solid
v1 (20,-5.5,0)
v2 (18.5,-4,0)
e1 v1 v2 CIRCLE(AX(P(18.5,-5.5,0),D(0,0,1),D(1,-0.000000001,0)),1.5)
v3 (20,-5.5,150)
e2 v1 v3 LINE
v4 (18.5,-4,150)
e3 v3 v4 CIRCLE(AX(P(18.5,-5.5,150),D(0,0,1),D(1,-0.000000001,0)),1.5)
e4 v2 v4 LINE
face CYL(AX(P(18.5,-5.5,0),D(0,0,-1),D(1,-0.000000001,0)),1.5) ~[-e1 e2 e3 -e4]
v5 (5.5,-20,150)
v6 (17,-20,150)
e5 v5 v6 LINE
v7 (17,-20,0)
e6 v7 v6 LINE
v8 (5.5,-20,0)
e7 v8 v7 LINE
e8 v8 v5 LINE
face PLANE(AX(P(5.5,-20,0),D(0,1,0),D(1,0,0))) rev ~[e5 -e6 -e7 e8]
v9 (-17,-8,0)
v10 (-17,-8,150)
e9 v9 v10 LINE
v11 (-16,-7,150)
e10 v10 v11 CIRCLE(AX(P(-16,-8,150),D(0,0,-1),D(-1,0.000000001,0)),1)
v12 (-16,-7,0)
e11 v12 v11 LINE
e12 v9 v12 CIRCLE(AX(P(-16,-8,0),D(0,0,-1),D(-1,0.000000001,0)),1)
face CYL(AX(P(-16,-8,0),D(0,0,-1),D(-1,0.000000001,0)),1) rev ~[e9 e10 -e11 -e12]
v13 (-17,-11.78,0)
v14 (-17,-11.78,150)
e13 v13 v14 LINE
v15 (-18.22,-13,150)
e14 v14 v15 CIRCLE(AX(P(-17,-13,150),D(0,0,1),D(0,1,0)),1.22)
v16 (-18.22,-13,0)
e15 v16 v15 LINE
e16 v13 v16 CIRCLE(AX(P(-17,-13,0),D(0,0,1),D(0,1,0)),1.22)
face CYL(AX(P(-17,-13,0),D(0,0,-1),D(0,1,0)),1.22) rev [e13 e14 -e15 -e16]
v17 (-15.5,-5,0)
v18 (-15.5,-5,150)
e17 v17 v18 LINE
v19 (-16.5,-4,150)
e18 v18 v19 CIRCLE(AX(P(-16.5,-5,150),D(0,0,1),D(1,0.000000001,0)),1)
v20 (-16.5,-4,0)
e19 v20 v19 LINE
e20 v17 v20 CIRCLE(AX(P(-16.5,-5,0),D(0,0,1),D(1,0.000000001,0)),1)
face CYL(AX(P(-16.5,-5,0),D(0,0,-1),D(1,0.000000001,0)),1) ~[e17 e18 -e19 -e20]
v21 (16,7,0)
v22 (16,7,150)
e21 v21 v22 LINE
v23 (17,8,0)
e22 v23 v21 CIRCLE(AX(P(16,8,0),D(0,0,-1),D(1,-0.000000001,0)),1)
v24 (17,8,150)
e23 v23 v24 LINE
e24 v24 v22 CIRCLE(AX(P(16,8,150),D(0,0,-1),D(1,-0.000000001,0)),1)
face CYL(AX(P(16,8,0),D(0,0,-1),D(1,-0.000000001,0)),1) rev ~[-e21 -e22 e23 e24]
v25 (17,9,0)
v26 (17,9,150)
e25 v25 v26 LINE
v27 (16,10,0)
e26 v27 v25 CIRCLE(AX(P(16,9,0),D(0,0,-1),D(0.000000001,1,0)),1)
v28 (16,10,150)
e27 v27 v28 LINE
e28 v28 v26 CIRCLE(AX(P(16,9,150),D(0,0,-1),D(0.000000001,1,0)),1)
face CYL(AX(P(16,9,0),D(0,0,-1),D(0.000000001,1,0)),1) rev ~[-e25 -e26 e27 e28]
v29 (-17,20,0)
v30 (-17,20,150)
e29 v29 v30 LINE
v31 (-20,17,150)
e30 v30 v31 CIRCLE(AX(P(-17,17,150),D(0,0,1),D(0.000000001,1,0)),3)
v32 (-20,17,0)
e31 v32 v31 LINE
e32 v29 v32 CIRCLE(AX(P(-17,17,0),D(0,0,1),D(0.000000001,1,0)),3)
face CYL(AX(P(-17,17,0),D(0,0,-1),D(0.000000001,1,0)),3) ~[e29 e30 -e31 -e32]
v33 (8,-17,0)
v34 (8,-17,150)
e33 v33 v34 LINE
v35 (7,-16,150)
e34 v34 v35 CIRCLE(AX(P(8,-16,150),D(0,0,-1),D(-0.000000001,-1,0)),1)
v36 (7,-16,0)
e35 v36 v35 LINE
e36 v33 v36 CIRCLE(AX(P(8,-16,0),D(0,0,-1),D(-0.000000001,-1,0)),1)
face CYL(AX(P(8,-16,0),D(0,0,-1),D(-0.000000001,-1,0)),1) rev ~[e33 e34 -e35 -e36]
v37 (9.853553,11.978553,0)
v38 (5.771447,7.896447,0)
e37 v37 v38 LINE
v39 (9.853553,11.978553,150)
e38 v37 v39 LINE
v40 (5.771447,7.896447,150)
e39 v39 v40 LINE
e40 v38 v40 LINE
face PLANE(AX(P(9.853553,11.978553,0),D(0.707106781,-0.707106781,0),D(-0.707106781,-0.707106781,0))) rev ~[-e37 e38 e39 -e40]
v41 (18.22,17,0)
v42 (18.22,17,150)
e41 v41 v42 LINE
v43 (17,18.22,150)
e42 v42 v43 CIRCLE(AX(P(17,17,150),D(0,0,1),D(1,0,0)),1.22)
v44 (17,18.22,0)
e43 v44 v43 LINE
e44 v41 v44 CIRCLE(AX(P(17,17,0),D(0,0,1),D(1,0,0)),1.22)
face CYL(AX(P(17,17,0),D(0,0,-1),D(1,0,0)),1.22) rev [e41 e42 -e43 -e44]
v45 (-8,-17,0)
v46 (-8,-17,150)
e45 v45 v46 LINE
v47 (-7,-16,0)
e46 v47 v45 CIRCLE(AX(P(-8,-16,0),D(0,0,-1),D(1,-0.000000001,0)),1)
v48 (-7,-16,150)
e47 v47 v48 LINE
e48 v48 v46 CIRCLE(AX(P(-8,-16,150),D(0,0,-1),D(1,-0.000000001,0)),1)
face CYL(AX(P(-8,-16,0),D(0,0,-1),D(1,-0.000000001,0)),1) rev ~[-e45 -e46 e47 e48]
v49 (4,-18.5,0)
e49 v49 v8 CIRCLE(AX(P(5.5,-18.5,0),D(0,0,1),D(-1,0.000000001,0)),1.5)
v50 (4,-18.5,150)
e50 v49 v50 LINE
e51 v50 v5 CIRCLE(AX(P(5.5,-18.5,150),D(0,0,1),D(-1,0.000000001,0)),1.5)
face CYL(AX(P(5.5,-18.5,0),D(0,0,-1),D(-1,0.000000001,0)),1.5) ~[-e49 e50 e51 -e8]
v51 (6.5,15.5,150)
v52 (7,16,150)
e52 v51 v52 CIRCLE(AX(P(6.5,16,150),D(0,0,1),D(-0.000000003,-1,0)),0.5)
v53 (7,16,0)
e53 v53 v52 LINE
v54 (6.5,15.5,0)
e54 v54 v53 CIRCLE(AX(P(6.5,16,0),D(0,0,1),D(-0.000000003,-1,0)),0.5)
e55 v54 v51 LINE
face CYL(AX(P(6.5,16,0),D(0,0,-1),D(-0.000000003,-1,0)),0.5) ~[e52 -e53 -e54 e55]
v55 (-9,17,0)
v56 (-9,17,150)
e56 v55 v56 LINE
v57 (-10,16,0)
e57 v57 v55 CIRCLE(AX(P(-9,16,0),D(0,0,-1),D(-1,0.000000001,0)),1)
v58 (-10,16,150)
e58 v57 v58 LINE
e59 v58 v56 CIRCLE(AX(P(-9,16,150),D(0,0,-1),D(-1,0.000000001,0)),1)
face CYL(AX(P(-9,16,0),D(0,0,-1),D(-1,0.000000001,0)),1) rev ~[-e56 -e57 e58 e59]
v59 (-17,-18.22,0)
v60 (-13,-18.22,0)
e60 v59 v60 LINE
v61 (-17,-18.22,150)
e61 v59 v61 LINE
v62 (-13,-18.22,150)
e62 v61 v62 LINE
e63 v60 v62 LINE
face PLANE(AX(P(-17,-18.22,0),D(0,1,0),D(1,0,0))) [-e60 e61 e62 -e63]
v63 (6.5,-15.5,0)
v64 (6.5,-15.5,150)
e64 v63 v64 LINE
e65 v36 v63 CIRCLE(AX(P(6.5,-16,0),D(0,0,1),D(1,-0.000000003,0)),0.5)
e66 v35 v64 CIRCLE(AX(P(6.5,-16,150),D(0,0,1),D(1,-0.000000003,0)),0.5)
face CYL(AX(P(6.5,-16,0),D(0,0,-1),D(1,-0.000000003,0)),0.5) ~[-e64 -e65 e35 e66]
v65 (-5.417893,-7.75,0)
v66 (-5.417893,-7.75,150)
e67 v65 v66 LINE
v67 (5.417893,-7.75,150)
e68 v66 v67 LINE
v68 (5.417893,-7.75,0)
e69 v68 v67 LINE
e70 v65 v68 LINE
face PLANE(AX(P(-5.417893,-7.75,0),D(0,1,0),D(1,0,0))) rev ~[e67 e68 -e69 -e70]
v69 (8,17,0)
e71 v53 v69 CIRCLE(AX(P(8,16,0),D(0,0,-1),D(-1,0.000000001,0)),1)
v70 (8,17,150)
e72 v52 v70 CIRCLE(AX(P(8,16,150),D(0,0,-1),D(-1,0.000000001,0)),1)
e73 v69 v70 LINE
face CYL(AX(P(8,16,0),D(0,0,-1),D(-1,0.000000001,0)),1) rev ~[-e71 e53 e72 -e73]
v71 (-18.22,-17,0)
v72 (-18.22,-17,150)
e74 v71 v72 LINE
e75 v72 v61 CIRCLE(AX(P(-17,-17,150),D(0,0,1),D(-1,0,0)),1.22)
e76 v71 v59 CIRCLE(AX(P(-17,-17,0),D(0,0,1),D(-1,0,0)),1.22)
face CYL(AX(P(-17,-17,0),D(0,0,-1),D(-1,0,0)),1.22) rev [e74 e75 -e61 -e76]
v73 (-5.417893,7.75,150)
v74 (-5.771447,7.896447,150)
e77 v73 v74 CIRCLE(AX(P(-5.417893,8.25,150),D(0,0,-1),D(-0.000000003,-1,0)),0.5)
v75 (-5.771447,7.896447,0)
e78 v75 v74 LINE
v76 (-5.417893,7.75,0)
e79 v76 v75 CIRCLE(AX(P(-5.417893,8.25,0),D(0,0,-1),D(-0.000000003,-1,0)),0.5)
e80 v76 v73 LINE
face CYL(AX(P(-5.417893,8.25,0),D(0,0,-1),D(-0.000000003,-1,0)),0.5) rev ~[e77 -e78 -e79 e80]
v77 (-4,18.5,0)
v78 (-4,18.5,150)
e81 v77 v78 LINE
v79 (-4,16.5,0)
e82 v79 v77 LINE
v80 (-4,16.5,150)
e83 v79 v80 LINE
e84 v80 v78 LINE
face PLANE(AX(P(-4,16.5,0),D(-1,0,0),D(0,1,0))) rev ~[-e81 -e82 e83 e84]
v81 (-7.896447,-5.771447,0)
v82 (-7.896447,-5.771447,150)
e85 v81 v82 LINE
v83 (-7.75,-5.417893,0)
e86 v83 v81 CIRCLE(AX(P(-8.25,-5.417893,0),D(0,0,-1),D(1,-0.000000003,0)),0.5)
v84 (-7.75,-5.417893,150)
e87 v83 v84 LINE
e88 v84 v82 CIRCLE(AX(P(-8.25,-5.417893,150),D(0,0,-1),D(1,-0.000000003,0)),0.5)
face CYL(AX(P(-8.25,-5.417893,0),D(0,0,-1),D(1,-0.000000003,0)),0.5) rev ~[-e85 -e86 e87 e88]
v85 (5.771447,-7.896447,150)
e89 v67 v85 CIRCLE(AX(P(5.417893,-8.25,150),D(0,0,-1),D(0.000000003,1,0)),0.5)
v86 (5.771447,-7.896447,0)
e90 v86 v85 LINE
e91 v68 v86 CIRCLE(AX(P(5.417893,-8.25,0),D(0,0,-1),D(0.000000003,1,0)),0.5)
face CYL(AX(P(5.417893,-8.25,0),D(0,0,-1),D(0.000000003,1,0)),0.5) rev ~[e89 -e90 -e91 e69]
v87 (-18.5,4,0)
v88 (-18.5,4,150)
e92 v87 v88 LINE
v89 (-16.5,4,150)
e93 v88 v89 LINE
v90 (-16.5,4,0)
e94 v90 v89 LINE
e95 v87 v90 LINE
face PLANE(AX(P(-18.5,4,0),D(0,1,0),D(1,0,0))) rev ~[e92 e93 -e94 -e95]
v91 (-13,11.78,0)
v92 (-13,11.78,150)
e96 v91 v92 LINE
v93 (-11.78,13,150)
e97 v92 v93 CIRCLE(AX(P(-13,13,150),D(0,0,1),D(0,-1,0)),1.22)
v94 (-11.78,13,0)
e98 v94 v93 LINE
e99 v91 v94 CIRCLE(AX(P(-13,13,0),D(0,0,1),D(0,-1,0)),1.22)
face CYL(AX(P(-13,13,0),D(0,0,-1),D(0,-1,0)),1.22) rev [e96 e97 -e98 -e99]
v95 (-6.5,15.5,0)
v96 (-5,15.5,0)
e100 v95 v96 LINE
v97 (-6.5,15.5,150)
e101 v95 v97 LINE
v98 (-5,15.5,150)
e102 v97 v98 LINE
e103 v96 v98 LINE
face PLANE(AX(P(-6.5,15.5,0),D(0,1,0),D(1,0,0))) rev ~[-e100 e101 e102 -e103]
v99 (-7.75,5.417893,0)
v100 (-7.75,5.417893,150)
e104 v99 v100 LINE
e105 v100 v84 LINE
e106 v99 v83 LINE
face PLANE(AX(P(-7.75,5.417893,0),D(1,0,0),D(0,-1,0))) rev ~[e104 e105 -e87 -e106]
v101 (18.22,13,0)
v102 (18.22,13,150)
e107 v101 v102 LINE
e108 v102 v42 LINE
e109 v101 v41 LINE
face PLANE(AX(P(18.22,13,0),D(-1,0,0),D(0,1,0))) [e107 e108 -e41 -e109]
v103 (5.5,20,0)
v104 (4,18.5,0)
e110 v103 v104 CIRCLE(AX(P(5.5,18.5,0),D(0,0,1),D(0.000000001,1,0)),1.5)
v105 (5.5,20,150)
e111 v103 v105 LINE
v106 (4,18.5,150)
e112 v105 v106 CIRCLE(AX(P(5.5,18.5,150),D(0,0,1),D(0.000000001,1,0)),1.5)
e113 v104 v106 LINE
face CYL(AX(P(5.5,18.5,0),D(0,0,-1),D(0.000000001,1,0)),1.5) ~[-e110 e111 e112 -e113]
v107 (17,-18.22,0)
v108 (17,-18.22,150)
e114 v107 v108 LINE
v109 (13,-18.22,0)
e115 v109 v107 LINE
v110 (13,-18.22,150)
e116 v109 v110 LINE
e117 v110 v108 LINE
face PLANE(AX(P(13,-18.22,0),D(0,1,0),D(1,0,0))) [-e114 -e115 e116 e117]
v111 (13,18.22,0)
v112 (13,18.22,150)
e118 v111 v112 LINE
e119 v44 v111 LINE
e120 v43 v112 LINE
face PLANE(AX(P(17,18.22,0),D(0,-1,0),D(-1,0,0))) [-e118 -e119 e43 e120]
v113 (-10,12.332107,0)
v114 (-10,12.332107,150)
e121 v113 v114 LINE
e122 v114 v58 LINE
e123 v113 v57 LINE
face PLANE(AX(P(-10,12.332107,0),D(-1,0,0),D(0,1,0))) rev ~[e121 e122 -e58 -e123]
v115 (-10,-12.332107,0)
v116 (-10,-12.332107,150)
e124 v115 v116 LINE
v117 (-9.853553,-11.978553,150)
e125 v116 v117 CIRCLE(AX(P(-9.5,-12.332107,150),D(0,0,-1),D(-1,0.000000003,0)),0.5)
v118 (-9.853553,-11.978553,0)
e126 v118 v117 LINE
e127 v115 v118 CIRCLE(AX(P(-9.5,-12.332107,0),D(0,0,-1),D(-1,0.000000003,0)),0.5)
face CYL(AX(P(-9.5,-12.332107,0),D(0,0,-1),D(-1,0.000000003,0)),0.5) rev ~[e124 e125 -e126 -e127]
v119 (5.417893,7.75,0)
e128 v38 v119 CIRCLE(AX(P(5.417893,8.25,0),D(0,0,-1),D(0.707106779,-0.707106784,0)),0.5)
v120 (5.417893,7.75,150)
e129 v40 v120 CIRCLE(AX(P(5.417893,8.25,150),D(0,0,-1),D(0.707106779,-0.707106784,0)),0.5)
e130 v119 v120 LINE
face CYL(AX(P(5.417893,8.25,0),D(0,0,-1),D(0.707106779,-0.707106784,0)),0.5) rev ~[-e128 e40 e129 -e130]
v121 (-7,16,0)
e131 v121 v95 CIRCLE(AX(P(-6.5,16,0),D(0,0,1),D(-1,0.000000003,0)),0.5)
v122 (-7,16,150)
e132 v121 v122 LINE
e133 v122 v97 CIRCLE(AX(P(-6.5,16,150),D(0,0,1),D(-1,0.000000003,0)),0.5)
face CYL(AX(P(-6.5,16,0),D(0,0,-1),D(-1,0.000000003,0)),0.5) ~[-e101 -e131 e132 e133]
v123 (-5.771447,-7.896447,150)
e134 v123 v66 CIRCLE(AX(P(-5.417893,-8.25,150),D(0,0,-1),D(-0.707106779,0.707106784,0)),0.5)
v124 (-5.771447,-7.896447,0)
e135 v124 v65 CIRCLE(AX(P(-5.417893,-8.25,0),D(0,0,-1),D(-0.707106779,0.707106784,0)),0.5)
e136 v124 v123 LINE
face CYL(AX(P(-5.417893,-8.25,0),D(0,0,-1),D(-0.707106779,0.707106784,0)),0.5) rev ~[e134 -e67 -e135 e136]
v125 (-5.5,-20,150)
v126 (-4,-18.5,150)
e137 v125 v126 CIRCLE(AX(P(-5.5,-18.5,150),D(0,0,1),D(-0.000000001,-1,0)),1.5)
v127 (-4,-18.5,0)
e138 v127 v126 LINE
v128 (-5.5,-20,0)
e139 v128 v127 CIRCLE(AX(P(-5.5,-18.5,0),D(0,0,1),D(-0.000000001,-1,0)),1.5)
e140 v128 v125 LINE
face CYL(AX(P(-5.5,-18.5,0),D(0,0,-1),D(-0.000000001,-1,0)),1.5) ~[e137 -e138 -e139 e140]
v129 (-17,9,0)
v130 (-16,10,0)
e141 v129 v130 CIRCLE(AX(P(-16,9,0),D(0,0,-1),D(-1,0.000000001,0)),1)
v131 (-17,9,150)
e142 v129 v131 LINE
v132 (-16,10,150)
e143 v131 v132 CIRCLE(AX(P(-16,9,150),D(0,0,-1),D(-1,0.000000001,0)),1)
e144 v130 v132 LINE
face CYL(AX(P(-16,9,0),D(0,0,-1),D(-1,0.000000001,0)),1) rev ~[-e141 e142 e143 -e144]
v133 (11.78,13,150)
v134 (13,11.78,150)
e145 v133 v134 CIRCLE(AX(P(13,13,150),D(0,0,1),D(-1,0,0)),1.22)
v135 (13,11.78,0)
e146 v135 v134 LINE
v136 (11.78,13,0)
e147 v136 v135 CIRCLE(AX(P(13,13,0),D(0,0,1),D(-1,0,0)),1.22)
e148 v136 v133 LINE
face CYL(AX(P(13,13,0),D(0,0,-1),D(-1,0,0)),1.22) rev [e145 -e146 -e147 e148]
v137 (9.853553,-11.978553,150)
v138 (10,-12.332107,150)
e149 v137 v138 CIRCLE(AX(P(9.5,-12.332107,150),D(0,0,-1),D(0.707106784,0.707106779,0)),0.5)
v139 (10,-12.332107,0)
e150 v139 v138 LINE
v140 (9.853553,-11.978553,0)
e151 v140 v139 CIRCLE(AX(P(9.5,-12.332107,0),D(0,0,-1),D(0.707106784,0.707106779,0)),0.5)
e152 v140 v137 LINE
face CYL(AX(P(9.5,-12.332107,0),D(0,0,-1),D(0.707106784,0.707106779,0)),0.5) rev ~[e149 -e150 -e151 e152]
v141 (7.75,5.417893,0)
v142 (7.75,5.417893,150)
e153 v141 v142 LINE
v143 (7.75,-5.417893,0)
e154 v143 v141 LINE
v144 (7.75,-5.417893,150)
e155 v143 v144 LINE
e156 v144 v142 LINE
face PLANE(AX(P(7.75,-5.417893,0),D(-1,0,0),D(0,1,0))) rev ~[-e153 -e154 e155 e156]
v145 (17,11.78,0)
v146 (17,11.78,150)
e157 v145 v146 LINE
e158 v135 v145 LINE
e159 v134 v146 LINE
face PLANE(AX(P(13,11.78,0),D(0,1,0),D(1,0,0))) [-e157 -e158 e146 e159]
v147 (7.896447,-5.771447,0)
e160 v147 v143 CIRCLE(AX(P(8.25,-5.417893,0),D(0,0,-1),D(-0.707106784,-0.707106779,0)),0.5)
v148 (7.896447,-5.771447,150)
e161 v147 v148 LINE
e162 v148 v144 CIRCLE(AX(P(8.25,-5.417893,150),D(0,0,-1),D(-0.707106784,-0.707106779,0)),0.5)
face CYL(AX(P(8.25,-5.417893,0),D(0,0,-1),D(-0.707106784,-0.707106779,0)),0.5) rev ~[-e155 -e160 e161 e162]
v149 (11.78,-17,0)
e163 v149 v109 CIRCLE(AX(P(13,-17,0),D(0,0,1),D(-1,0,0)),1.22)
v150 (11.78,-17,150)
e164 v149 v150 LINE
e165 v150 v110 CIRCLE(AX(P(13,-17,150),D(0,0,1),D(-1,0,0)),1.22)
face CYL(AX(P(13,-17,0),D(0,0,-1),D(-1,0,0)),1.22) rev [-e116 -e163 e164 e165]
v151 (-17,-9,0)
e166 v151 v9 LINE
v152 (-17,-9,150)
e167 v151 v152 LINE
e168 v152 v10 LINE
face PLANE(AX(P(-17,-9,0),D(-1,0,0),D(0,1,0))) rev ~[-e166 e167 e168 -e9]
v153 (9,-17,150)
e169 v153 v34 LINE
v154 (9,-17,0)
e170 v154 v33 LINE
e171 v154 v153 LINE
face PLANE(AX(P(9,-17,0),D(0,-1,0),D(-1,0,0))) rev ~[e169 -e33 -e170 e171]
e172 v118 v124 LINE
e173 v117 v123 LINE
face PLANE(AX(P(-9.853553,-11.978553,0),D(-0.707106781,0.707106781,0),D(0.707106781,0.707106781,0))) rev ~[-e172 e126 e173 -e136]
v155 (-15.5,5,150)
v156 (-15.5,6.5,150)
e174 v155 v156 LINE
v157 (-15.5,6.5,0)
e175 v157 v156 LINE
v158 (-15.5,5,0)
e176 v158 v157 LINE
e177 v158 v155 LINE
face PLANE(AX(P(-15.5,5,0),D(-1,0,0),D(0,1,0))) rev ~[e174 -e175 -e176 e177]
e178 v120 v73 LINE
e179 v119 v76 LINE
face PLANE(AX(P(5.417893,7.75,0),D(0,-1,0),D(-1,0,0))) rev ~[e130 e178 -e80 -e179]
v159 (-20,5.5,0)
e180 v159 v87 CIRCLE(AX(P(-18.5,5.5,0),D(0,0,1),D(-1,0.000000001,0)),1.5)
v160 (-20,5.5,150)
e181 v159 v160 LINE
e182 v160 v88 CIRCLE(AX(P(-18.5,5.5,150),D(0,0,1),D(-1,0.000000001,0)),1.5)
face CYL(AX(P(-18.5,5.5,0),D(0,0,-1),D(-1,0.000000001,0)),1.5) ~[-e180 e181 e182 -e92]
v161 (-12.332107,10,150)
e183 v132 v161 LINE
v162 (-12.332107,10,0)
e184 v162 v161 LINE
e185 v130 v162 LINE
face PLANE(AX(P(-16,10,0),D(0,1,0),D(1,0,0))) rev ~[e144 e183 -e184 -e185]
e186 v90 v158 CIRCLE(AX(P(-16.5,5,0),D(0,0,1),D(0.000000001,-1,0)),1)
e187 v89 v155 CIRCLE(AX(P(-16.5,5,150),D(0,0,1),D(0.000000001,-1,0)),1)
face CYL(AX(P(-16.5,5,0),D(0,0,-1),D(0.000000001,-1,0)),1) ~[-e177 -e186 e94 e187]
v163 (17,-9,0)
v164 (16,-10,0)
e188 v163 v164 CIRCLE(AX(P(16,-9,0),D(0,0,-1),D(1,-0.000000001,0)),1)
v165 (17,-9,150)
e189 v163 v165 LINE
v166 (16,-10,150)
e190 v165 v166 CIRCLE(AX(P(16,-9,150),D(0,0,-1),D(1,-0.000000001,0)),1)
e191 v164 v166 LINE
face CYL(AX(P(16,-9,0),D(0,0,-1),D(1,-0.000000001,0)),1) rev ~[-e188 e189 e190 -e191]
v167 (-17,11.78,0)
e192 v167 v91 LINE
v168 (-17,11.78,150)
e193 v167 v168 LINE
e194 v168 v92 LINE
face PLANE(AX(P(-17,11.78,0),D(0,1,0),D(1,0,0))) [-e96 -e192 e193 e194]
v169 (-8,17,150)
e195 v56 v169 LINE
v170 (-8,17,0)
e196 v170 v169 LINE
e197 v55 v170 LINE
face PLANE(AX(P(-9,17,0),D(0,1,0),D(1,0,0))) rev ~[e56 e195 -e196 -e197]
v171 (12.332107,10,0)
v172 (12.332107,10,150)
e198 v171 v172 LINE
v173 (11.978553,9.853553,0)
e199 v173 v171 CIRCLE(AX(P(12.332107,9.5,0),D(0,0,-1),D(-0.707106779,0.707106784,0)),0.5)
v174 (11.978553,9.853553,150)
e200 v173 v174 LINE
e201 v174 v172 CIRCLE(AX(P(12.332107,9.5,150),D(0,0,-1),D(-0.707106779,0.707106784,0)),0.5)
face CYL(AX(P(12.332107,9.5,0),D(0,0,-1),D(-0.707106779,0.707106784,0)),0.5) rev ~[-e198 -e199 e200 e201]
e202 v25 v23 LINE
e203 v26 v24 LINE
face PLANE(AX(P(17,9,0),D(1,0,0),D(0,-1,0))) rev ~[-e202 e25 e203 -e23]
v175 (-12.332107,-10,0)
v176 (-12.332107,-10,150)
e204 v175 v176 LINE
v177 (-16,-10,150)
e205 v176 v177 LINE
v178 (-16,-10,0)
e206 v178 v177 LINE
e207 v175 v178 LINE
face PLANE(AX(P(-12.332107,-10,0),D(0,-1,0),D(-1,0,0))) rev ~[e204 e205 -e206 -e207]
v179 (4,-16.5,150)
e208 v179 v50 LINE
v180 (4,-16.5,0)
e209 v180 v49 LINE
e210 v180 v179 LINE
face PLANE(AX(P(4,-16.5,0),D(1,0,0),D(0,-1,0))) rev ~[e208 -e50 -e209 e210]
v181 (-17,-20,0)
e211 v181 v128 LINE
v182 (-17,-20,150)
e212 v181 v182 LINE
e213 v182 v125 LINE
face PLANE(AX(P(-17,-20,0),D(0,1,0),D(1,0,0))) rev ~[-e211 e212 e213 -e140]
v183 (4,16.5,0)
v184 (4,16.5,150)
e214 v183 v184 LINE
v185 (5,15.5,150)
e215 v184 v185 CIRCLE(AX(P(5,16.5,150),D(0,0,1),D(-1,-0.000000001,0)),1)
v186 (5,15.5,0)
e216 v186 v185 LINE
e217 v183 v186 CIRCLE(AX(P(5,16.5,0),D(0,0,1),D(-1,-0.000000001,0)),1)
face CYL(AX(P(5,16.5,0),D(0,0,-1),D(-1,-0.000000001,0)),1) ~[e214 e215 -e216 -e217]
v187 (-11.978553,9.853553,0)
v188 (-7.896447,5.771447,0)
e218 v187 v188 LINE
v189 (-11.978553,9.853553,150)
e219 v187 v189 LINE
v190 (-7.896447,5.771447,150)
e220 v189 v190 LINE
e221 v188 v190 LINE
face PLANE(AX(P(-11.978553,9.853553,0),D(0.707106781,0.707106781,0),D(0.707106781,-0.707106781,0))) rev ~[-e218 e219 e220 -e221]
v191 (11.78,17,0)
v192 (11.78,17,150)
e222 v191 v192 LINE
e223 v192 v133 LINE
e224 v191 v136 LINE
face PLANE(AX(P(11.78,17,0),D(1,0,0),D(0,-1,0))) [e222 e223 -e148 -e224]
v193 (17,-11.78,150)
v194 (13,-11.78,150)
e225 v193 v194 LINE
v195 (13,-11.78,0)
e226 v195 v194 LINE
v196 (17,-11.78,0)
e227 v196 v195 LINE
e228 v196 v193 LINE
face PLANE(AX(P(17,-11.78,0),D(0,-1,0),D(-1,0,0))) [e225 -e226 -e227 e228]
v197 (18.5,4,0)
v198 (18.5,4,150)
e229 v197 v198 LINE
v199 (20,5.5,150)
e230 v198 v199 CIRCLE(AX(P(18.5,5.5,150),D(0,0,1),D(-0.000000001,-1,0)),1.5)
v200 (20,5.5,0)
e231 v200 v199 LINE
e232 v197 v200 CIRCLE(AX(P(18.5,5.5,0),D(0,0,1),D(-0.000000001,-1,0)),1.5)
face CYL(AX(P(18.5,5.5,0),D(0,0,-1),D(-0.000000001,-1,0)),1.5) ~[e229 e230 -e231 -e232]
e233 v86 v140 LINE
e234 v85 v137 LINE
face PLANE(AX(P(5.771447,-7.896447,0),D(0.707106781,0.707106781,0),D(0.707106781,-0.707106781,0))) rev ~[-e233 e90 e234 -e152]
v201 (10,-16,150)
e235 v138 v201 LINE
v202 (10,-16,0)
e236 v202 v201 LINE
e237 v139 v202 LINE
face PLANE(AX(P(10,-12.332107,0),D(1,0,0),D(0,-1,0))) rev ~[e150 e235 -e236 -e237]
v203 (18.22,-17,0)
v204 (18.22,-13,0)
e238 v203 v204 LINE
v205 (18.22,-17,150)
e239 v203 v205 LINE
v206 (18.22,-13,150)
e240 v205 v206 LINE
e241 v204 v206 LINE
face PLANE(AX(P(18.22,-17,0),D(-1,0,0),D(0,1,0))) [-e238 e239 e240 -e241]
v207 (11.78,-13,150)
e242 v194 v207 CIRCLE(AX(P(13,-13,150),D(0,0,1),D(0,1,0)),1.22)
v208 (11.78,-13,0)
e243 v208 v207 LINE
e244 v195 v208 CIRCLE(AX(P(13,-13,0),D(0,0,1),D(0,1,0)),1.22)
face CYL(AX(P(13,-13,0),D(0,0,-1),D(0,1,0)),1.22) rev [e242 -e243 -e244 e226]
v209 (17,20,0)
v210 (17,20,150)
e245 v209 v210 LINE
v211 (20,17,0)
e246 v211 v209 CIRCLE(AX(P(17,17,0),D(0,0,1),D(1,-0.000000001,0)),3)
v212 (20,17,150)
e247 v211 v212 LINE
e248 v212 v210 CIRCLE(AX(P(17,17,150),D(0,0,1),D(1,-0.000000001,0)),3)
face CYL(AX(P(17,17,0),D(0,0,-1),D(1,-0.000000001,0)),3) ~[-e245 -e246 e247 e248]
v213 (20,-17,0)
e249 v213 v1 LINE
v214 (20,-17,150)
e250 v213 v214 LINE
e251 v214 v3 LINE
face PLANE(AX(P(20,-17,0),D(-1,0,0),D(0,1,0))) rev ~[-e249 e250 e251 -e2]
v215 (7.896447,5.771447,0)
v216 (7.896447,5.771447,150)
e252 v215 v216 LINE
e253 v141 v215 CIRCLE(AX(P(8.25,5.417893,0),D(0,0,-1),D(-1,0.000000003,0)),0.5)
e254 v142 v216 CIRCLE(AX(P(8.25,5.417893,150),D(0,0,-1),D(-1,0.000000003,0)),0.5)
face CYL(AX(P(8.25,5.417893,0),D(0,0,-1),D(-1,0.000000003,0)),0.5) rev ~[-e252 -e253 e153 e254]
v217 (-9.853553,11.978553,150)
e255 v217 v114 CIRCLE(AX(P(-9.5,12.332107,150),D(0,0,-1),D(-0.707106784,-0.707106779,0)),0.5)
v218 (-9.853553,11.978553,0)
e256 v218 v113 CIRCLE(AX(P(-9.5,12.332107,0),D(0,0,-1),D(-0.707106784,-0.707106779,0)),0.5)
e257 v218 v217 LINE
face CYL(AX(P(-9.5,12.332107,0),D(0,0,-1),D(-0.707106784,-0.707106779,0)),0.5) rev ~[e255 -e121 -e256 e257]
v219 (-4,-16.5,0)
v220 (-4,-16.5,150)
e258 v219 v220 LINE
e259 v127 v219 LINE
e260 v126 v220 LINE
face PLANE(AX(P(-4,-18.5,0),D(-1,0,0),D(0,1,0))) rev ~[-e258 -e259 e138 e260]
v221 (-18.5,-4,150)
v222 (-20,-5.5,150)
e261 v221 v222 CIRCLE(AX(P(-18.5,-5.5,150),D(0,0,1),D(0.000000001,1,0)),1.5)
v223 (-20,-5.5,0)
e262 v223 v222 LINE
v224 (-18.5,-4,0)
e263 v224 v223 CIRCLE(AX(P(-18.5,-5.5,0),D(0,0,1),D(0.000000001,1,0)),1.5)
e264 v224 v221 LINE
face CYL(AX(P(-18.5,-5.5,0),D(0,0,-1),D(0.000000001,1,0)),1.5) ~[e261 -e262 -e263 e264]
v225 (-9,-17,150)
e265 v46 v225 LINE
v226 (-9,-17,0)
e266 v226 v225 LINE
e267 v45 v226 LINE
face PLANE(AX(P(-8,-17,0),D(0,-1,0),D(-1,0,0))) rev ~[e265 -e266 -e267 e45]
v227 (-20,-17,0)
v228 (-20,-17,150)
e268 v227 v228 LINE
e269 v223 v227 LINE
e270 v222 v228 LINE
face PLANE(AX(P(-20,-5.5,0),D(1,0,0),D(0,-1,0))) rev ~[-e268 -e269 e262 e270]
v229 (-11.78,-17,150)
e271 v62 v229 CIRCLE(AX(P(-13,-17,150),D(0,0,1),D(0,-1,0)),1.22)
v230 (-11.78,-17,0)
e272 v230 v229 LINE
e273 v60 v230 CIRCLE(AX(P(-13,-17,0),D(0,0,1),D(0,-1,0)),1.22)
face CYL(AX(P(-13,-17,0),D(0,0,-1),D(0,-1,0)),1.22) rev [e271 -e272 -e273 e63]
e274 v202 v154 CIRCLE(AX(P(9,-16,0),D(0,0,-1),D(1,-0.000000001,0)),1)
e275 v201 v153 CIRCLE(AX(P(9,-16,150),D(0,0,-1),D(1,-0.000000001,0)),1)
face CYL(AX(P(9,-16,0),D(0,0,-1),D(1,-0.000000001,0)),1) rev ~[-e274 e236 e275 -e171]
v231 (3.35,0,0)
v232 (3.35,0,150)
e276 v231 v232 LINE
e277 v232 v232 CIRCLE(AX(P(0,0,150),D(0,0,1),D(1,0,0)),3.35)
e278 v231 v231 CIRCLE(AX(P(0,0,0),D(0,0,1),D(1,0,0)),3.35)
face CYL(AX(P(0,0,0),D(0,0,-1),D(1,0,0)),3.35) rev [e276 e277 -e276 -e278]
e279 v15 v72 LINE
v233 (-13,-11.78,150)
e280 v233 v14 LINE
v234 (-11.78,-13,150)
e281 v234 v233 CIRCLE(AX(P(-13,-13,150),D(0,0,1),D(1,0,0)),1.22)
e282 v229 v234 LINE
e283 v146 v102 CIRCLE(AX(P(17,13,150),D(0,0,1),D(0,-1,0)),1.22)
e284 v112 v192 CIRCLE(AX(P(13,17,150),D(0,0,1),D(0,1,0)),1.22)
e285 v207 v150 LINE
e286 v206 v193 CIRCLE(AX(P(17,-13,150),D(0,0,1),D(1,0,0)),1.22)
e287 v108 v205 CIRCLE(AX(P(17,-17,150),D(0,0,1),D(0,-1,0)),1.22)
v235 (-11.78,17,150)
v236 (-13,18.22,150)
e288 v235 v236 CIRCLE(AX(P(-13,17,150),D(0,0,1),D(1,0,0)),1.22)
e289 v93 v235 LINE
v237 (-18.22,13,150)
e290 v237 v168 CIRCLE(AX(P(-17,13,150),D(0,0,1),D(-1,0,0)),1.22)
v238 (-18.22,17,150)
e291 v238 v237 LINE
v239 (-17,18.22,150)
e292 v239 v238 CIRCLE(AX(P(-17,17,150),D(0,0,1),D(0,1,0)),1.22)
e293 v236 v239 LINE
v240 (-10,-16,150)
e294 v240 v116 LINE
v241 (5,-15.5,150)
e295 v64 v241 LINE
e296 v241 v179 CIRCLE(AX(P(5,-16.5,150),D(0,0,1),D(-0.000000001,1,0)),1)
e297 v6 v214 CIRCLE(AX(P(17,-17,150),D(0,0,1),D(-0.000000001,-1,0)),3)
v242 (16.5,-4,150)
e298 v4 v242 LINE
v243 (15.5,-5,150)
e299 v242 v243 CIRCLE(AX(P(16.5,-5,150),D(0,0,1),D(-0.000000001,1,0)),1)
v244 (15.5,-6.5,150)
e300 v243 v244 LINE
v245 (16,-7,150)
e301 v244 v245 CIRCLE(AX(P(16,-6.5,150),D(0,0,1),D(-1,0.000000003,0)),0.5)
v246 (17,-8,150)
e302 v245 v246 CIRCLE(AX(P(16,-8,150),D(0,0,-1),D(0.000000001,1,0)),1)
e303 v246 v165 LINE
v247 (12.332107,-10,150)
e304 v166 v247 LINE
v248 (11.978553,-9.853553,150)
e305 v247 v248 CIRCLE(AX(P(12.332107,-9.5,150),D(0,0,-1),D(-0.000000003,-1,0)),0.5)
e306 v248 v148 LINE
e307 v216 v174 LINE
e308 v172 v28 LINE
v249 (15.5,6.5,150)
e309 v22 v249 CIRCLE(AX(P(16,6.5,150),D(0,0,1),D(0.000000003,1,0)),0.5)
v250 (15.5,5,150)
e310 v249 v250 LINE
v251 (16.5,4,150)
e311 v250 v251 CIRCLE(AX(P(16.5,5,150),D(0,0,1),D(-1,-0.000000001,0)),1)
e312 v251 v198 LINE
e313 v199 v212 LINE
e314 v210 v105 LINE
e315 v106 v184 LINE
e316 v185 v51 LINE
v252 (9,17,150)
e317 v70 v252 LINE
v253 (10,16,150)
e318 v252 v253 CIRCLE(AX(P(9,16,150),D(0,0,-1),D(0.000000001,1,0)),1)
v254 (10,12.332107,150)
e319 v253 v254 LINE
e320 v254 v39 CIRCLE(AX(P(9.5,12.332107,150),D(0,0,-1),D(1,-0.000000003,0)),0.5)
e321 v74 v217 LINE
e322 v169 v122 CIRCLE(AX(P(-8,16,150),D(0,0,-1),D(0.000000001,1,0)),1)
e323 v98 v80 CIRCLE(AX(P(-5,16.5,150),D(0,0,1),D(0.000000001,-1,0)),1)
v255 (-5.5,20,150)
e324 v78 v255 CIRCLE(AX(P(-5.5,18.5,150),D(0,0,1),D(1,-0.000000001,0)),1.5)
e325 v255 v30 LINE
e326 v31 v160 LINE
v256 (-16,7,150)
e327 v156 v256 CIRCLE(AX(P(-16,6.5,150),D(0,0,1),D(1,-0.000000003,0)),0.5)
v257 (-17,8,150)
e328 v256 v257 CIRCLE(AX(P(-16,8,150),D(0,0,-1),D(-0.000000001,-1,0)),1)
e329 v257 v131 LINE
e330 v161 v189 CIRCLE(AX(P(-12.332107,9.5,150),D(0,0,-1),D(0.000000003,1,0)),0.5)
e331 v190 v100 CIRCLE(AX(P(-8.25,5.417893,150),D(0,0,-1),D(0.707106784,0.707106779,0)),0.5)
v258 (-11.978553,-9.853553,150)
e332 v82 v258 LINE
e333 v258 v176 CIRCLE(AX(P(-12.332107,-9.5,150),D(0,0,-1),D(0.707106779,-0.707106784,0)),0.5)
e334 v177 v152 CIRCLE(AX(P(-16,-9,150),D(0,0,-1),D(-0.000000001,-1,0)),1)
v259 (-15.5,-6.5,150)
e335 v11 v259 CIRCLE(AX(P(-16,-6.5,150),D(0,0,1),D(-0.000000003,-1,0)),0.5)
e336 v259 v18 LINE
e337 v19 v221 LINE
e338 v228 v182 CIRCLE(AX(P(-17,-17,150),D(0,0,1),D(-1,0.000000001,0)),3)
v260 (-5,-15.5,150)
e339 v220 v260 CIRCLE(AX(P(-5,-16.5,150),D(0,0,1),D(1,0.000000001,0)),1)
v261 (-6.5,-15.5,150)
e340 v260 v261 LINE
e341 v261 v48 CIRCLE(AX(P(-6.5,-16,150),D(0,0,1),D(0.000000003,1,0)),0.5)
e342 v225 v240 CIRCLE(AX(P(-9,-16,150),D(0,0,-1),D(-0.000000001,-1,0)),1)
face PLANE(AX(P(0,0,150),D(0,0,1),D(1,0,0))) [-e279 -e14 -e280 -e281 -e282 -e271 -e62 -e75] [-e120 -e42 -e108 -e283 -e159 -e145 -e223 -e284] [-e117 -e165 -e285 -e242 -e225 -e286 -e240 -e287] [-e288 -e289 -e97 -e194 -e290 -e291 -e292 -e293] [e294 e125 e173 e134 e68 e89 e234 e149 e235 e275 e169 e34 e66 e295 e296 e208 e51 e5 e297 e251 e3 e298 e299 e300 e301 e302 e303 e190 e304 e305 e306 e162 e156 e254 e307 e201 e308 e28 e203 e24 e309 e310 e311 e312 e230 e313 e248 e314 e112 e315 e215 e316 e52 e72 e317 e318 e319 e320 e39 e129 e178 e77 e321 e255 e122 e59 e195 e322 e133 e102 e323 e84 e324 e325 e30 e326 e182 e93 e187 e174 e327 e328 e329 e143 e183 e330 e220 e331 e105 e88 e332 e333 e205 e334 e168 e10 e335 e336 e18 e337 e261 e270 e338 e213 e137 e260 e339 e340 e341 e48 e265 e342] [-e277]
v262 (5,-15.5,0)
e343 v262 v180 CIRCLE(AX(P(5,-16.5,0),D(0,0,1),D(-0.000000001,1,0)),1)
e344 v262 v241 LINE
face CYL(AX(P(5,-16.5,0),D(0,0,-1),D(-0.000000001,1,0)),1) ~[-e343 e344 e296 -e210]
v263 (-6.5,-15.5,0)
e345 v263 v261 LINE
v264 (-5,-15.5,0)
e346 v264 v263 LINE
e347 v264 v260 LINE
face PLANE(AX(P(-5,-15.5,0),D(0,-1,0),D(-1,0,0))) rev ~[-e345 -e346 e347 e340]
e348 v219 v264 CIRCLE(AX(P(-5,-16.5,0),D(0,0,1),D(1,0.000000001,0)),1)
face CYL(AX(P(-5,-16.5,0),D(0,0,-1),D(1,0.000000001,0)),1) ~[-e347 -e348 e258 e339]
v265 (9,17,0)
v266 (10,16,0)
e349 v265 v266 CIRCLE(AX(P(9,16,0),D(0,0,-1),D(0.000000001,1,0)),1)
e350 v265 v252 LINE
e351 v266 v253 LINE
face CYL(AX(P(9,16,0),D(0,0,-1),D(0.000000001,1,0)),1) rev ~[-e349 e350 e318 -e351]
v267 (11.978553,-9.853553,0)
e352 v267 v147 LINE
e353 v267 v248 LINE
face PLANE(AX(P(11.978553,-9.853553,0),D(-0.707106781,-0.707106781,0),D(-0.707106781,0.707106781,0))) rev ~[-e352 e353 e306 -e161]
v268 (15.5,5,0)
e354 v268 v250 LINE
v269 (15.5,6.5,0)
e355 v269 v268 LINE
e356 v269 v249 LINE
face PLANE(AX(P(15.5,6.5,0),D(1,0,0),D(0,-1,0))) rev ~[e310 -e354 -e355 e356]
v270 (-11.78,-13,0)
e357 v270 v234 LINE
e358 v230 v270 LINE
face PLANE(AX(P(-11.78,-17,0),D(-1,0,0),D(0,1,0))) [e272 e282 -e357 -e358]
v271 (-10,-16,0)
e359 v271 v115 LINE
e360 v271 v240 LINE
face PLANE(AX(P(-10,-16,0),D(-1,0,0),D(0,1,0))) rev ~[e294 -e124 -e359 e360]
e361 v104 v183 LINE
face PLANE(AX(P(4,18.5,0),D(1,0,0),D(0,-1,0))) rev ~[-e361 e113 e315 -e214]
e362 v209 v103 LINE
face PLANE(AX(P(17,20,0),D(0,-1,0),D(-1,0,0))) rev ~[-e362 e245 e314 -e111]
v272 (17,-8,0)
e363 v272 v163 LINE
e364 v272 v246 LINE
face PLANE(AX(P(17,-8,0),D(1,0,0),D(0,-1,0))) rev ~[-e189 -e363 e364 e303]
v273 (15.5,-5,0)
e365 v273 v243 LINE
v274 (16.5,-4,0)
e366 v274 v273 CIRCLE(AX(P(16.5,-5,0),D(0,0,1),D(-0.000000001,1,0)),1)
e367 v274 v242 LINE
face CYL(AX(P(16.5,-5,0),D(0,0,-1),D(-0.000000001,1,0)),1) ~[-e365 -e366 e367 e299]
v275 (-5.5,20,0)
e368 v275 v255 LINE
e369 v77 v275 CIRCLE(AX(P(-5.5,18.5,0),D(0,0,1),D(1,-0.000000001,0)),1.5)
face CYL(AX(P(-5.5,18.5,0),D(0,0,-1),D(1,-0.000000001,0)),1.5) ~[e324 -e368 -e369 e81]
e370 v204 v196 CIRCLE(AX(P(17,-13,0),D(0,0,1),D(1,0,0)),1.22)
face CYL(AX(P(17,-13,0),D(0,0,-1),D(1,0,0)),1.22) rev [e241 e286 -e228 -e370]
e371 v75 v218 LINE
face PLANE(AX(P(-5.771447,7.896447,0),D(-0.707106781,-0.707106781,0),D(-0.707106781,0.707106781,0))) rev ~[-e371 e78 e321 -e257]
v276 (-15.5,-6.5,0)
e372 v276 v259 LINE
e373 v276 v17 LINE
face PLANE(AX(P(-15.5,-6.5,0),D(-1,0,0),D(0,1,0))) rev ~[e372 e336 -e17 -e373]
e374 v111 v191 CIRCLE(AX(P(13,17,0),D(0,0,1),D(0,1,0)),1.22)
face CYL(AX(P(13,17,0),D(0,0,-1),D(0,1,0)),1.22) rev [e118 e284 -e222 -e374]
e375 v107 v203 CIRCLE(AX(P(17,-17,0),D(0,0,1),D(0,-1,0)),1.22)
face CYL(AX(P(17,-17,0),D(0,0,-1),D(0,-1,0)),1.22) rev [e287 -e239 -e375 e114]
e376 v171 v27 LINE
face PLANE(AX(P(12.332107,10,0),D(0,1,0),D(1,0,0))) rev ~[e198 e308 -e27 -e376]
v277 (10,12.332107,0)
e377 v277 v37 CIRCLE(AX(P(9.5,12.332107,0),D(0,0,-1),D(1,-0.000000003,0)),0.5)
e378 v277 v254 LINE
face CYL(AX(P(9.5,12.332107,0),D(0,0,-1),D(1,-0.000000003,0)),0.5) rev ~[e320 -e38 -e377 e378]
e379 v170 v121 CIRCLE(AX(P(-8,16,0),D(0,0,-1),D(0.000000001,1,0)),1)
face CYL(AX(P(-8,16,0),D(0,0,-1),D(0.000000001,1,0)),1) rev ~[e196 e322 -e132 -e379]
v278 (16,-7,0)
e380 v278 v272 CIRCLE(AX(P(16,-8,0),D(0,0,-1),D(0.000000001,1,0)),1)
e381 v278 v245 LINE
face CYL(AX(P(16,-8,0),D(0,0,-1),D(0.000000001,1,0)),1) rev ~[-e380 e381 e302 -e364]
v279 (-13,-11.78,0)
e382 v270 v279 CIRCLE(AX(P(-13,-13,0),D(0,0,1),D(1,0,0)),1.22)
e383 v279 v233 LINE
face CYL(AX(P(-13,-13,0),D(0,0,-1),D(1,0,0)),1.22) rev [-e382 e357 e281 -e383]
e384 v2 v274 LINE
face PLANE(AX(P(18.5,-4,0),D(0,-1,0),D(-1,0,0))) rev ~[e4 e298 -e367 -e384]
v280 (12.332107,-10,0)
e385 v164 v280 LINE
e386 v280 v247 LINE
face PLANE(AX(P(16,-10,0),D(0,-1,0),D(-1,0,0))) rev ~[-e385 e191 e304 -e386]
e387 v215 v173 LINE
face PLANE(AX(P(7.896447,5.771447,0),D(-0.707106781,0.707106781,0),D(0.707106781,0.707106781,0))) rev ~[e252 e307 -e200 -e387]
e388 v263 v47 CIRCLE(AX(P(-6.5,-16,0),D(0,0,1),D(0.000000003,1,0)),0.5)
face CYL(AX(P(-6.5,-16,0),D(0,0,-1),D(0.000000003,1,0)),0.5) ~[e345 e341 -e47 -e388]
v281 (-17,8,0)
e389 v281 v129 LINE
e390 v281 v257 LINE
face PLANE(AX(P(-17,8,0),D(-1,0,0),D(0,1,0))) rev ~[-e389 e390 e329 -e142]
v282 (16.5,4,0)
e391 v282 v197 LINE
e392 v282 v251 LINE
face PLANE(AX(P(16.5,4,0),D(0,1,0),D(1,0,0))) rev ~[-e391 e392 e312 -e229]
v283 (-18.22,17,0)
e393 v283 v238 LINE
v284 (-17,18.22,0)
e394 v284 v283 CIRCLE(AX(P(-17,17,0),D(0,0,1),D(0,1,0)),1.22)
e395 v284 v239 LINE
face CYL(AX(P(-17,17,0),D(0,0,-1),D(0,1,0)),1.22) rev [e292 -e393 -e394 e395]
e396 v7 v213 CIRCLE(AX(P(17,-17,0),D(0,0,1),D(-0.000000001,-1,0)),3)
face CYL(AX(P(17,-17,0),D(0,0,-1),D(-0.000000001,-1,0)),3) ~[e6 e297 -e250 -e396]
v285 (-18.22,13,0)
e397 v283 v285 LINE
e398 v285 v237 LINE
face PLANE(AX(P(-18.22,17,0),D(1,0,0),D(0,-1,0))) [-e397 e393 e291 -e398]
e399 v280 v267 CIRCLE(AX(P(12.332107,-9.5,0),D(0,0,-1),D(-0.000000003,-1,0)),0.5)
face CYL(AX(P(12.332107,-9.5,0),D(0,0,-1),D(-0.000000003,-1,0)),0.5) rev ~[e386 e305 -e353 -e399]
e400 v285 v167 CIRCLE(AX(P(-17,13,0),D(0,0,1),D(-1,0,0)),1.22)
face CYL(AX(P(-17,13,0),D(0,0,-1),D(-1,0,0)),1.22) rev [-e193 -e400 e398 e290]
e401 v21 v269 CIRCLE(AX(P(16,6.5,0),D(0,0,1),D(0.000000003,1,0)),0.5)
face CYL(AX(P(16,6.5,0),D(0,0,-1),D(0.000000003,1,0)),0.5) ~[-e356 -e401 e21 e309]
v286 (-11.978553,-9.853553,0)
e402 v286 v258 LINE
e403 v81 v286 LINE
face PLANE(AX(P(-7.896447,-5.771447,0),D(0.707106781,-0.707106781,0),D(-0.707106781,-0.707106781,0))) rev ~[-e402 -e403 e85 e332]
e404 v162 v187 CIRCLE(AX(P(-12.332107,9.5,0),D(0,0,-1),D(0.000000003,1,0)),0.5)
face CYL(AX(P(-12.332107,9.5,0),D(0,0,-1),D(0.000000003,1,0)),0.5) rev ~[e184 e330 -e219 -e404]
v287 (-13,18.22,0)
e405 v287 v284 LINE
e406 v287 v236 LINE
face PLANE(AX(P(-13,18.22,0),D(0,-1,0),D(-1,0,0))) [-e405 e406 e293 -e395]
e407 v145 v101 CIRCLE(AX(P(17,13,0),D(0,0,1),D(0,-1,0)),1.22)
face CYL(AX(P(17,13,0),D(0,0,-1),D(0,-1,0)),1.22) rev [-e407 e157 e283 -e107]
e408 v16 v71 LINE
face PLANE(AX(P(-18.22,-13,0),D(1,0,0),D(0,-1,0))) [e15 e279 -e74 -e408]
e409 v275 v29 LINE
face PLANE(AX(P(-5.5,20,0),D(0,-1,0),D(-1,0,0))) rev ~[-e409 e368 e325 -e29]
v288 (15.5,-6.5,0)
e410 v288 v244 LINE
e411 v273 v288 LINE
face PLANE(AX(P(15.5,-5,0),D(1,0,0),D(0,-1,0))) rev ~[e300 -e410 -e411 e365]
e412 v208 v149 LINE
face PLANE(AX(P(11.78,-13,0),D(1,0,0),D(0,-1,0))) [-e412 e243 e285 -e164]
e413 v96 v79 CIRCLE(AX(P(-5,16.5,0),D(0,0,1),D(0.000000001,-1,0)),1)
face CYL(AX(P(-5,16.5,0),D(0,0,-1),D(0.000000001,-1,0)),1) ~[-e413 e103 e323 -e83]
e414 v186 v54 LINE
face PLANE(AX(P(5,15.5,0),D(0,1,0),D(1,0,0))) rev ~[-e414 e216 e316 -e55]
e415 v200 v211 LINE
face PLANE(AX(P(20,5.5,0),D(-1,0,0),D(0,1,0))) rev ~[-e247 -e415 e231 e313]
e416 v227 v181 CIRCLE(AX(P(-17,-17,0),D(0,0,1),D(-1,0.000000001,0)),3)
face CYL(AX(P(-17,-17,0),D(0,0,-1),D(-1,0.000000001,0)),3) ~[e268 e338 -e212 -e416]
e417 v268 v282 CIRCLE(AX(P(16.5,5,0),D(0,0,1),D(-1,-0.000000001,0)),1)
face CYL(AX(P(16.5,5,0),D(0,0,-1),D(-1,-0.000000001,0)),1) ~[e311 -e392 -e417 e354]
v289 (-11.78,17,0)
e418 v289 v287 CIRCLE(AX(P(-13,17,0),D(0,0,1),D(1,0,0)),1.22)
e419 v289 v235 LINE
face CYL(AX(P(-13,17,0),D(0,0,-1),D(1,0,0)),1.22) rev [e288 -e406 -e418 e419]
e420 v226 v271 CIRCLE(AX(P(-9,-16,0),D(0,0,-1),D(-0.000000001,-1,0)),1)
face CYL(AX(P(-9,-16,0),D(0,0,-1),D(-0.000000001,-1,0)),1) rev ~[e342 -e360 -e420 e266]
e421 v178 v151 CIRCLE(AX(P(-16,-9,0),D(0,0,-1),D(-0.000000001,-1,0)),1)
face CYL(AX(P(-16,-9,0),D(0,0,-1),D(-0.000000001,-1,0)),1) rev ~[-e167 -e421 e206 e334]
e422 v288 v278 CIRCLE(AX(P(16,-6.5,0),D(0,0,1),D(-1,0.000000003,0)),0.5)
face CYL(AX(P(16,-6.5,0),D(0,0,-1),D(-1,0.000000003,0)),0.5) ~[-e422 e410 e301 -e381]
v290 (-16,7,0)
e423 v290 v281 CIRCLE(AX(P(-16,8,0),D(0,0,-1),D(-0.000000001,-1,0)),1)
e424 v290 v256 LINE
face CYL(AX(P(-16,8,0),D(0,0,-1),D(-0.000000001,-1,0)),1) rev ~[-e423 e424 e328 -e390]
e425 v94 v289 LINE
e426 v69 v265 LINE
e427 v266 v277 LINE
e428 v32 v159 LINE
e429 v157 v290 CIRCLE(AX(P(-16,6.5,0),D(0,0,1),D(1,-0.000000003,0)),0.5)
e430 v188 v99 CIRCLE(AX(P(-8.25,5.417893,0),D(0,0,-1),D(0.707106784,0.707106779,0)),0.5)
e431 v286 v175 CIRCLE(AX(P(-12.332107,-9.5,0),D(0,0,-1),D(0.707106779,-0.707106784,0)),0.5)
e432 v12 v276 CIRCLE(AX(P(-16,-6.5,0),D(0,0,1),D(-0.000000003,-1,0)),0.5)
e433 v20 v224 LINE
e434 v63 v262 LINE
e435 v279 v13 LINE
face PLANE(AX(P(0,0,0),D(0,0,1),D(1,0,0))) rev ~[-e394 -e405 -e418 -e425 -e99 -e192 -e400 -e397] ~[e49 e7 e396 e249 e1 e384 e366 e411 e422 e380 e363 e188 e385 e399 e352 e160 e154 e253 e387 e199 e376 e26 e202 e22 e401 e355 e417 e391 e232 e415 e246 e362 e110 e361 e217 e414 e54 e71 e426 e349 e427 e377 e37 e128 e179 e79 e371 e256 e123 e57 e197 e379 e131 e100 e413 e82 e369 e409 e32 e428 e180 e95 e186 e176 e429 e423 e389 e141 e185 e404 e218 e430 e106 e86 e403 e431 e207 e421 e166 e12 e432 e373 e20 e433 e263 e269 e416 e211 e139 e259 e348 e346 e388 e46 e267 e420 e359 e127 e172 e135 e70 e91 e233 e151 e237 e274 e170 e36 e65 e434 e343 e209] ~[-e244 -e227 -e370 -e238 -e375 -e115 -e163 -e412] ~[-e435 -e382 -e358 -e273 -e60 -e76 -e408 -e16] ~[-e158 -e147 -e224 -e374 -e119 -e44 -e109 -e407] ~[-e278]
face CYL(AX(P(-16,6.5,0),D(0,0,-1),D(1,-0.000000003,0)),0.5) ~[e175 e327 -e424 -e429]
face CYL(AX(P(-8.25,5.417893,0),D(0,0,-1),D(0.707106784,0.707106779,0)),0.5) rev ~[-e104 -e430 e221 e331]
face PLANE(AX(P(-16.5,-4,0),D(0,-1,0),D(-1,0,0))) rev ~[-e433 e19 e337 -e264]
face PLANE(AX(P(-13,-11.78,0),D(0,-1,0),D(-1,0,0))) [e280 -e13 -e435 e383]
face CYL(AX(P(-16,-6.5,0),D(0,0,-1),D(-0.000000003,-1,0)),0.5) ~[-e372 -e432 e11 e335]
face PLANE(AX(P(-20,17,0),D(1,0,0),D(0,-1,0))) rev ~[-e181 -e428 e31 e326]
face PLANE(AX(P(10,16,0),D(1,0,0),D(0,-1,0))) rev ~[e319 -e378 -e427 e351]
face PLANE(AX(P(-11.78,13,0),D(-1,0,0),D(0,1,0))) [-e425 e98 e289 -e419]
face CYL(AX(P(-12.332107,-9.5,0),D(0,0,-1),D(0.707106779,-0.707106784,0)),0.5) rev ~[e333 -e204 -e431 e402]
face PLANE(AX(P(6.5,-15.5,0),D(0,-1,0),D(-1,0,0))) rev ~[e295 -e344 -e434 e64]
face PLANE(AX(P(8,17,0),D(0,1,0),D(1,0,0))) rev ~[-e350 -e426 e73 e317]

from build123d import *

# Parameters (mm, degrees)
SKETCH1_R           = 3.35
BOSS_EXTRUDE1_DEPTH = 150


with BuildPart() as part:
    # Sketch1 → Boss-Extrude1 (new body)
    with BuildSketch(Plane.XY):
        with BuildLine():
            Line((-9.853553391, -11.978553391), (-5.771446609, -7.896446609))
            ThreePointArc((-5.771446609, -7.896446609), (-5.609234935, -7.788060234), (-5.417893219, -7.75))
            Line((-5.417893219, -7.75), (5.417893219, -7.75))
            ThreePointArc((5.417893219, -7.75), (5.609234935, -7.788060234), (5.771446609, -7.896446609))
            Line((5.771446609, -7.896446609), (9.853553391, -11.978553391))
            ThreePointArc((9.853553391, -11.978553391), (9.961939766, -12.140765065), (10, -12.332106781))
            Line((10, -12.332106781), (10, -16))
            ThreePointArc((10, -16), (9.707106781, -16.707106781), (9, -17))
            Line((9, -17), (8, -17))
            ThreePointArc((8, -17), (7.292893219, -16.707106781), (7, -16))
            ThreePointArc((7, -16), (6.853553391, -15.646446609), (6.5, -15.5))
            Line((6.5, -15.5), (5, -15.5))
            ThreePointArc((5, -15.5), (4.292893219, -15.792893219), (4, -16.5))
            Line((4, -16.5), (4, -18.5))
            ThreePointArc((4, -18.5), (4.439339828, -19.560660172), (5.5, -20))
            Line((5.5, -20), (17, -20))
            ThreePointArc((17, -20), (19.121320344, -19.121320344), (20, -17))
            Line((20, -17), (20, -5.5))
            ThreePointArc((20, -5.5), (19.560660172, -4.439339828), (18.5, -4))
            Line((18.5, -4), (16.5, -4))
            ThreePointArc((16.5, -4), (15.792893219, -4.292893219), (15.5, -5))
            Line((15.5, -5), (15.5, -6.5))
            ThreePointArc((15.5, -6.5), (15.646446609, -6.853553391), (16, -7))
            ThreePointArc((16, -7), (16.707106781, -7.292893219), (17, -8))
            Line((17, -8), (17, -9))
            ThreePointArc((17, -9), (16.707106781, -9.707106781), (16, -10))
            Line((16, -10), (12.332106781, -10))
            ThreePointArc((12.332106781, -10), (12.140765065, -9.961939766), (11.978553391, -9.853553391))
            Line((11.978553391, -9.853553391), (7.896446609, -5.771446609))
            ThreePointArc((7.896446609, -5.771446609), (7.788060234, -5.609234935), (7.75, -5.417893219))
            Line((7.75, -5.417893219), (7.75, 5.417893219))
            ThreePointArc((7.75, 5.417893219), (7.788060234, 5.609234935), (7.896446609, 5.771446609))
            Line((7.896446609, 5.771446609), (11.978553391, 9.853553391))
            ThreePointArc((11.978553391, 9.853553391), (12.140765065, 9.961939766), (12.332106781, 10))
            Line((12.332106781, 10), (16, 10))
            ThreePointArc((16, 10), (16.707106781, 9.707106781), (17, 9))
            Line((17, 9), (17, 8))
            ThreePointArc((17, 8), (16.707106781, 7.292893219), (16, 7))
            ThreePointArc((16, 7), (15.646446609, 6.853553391), (15.5, 6.5))
            Line((15.5, 6.5), (15.5, 5))
            ThreePointArc((15.5, 5), (15.792893219, 4.292893219), (16.5, 4))
            Line((16.5, 4), (18.5, 4))
            ThreePointArc((18.5, 4), (19.560660172, 4.439339828), (20, 5.5))
            Line((20, 5.5), (20, 17))
            ThreePointArc((20, 17), (19.121320344, 19.121320344), (17, 20))
            Line((17, 20), (5.5, 20))
            ThreePointArc((5.5, 20), (4.439339828, 19.560660172), (4, 18.5))
            Line((4, 18.5), (4, 16.5))
            ThreePointArc((4, 16.5), (4.292893219, 15.792893219), (5, 15.5))
            Line((5, 15.5), (6.5, 15.5))
            ThreePointArc((6.5, 15.5), (6.853553391, 15.646446609), (7, 16))
            ThreePointArc((7, 16), (7.292893219, 16.707106781), (8, 17))
            Line((8, 17), (9, 17))
            ThreePointArc((9, 17), (9.707106781, 16.707106781), (10, 16))
            Line((10, 16), (10, 12.332106781))
            ThreePointArc((10, 12.332106781), (9.961939766, 12.140765065), (9.853553391, 11.978553391))
            Line((9.853553391, 11.978553391), (5.771446609, 7.896446609))
            ThreePointArc((5.771446609, 7.896446609), (5.609234935, 7.788060234), (5.417893219, 7.75))
            Line((5.417893219, 7.75), (-5.417893219, 7.75))
            ThreePointArc((-5.417893219, 7.75), (-5.609234935, 7.788060234), (-5.771446609, 7.896446609))
            Line((-5.771446609, 7.896446609), (-9.853553391, 11.978553391))
            ThreePointArc((-9.853553391, 11.978553391), (-9.961939766, 12.140765065), (-10, 12.332106781))
            Line((-10, 12.332106781), (-10, 16))
            ThreePointArc((-10, 16), (-9.707106781, 16.707106781), (-9, 17))
            Line((-9, 17), (-8, 17))
            ThreePointArc((-8, 17), (-7.292893219, 16.707106781), (-7, 16))
            ThreePointArc((-7, 16), (-6.853553391, 15.646446609), (-6.5, 15.5))
            Line((-6.5, 15.5), (-5, 15.5))
            ThreePointArc((-5, 15.5), (-4.292893219, 15.792893219), (-4, 16.5))
            Line((-4, 16.5), (-4, 18.5))
            ThreePointArc((-4, 18.5), (-4.439339828, 19.560660172), (-5.5, 20))
            Line((-5.5, 20), (-17, 20))
            ThreePointArc((-17, 20), (-19.121320344, 19.121320344), (-20, 17))
            Line((-20, 17), (-20, 5.5))
            ThreePointArc((-20, 5.5), (-19.560660172, 4.439339828), (-18.5, 4))
            Line((-18.5, 4), (-16.5, 4))
            ThreePointArc((-16.5, 4), (-15.792893219, 4.292893219), (-15.5, 5))
            Line((-15.5, 5), (-15.5, 6.5))
            ThreePointArc((-15.5, 6.5), (-15.646446609, 6.853553391), (-16, 7))
            ThreePointArc((-16, 7), (-16.707106781, 7.292893219), (-17, 8))
            Line((-17, 8), (-17, 9))
            ThreePointArc((-17, 9), (-16.707106781, 9.707106781), (-16, 10))
            Line((-16, 10), (-12.332106781, 10))
            ThreePointArc((-12.332106781, 10), (-12.140765065, 9.961939766), (-11.978553391, 9.853553391))
            Line((-11.978553391, 9.853553391), (-7.896446609, 5.771446609))
            ThreePointArc((-7.896446609, 5.771446609), (-7.788060234, 5.609234935), (-7.75, 5.417893219))
            Line((-7.75, 5.417893219), (-7.75, -5.417893219))
            ThreePointArc((-7.75, -5.417893219), (-7.788060234, -5.609234935), (-7.896446609, -5.771446609))
            Line((-7.896446609, -5.771446609), (-11.978553391, -9.853553391))
            ThreePointArc((-11.978553391, -9.853553391), (-12.140765065, -9.961939766), (-12.332106781, -10))
            Line((-12.332106781, -10), (-16, -10))
            ThreePointArc((-16, -10), (-16.707106781, -9.707106781), (-17, -9))
            Line((-17, -9), (-17, -8))
            ThreePointArc((-17, -8), (-16.707106781, -7.292893219), (-16, -7))
            ThreePointArc((-16, -7), (-15.646446609, -6.853553391), (-15.5, -6.5))
            Line((-15.5, -6.5), (-15.5, -5))
            ThreePointArc((-15.5, -5), (-15.792893219, -4.292893219), (-16.5, -4))
            Line((-16.5, -4), (-18.5, -4))
            ThreePointArc((-18.5, -4), (-19.560660172, -4.439339828), (-20, -5.5))
            Line((-20, -5.5), (-20, -17))
            ThreePointArc((-20, -17), (-19.121320344, -19.121320344), (-17, -20))
            Line((-17, -20), (-5.5, -20))
            ThreePointArc((-5.5, -20), (-4.439339828, -19.560660172), (-4, -18.5))
            Line((-4, -18.5), (-4, -16.5))
            ThreePointArc((-4, -16.5), (-4.292893219, -15.792893219), (-5, -15.5))
            Line((-5, -15.5), (-6.5, -15.5))
            ThreePointArc((-6.5, -15.5), (-6.853553391, -15.646446609), (-7, -16))
            ThreePointArc((-7, -16), (-7.292893219, -16.707106781), (-8, -17))
            Line((-8, -17), (-9, -17))
            ThreePointArc((-9, -17), (-9.707106781, -16.707106781), (-10, -16))
            Line((-10, -16), (-10, -12.332106781))
            ThreePointArc((-10, -12.332106781), (-9.961939766, -12.140765065), (-9.853553391, -11.978553391))
        make_face()
        Circle(SKETCH1_R, mode=Mode.SUBTRACT)
        with BuildLine():
            Line((-17, 11.78), (-13, 11.78))
            ThreePointArc((-13, 11.78), (-12.137329727, 12.137329727), (-11.78, 13))
            Line((-11.78, 13), (-11.78, 17))
            ThreePointArc((-11.78, 17), (-12.137329727, 17.862670273), (-13, 18.22))
            Line((-13, 18.22), (-17, 18.22))
            ThreePointArc((-17, 18.22), (-17.862670273, 17.862670273), (-18.22, 17))
            Line((-18.22, 17), (-18.22, 13))
            ThreePointArc((-18.22, 13), (-17.862670273, 12.137329727), (-17, 11.78))
        make_face(mode=Mode.SUBTRACT)
        with BuildLine():
            Line((-18.22, -13), (-18.22, -17))
            ThreePointArc((-18.22, -17), (-17.862670273, -17.862670273), (-17, -18.22))
            Line((-17, -18.22), (-13, -18.22))
            ThreePointArc((-13, -18.22), (-12.137329727, -17.862670273), (-11.78, -17))
            Line((-11.78, -17), (-11.78, -13))
            ThreePointArc((-11.78, -13), (-12.137329727, -12.137329727), (-13, -11.78))
            Line((-13, -11.78), (-17, -11.78))
            ThreePointArc((-17, -11.78), (-17.862670273, -12.137329727), (-18.22, -13))
        make_face(mode=Mode.SUBTRACT)
        with BuildLine():
            Line((13, -18.22), (17, -18.22))
            ThreePointArc((17, -18.22), (17.862670273, -17.862670273), (18.22, -17))
            Line((18.22, -17), (18.22, -13))
            ThreePointArc((18.22, -13), (17.862670273, -12.137329727), (17, -11.78))
            Line((17, -11.78), (13, -11.78))
            ThreePointArc((13, -11.78), (12.137329727, -12.137329727), (11.78, -13))
            Line((11.78, -13), (11.78, -17))
            ThreePointArc((11.78, -17), (12.137329727, -17.862670273), (13, -18.22))
        make_face(mode=Mode.SUBTRACT)
        with BuildLine():
            Line((18.22, 13), (18.22, 17))
            ThreePointArc((18.22, 17), (17.862670273, 17.862670273), (17, 18.22))
            Line((17, 18.22), (13, 18.22))
            ThreePointArc((13, 18.22), (12.137329727, 17.862670273), (11.78, 17))
            Line((11.78, 17), (11.78, 13))
            ThreePointArc((11.78, 13), (12.137329727, 12.137329727), (13, 11.78))
            Line((13, 11.78), (17, 11.78))
            ThreePointArc((17, 11.78), (17.862670273, 12.137329727), (18.22, 13))
        make_face(mode=Mode.SUBTRACT)
    extrude(amount=BOSS_EXTRUDE1_DEPTH)


solid = part.part
